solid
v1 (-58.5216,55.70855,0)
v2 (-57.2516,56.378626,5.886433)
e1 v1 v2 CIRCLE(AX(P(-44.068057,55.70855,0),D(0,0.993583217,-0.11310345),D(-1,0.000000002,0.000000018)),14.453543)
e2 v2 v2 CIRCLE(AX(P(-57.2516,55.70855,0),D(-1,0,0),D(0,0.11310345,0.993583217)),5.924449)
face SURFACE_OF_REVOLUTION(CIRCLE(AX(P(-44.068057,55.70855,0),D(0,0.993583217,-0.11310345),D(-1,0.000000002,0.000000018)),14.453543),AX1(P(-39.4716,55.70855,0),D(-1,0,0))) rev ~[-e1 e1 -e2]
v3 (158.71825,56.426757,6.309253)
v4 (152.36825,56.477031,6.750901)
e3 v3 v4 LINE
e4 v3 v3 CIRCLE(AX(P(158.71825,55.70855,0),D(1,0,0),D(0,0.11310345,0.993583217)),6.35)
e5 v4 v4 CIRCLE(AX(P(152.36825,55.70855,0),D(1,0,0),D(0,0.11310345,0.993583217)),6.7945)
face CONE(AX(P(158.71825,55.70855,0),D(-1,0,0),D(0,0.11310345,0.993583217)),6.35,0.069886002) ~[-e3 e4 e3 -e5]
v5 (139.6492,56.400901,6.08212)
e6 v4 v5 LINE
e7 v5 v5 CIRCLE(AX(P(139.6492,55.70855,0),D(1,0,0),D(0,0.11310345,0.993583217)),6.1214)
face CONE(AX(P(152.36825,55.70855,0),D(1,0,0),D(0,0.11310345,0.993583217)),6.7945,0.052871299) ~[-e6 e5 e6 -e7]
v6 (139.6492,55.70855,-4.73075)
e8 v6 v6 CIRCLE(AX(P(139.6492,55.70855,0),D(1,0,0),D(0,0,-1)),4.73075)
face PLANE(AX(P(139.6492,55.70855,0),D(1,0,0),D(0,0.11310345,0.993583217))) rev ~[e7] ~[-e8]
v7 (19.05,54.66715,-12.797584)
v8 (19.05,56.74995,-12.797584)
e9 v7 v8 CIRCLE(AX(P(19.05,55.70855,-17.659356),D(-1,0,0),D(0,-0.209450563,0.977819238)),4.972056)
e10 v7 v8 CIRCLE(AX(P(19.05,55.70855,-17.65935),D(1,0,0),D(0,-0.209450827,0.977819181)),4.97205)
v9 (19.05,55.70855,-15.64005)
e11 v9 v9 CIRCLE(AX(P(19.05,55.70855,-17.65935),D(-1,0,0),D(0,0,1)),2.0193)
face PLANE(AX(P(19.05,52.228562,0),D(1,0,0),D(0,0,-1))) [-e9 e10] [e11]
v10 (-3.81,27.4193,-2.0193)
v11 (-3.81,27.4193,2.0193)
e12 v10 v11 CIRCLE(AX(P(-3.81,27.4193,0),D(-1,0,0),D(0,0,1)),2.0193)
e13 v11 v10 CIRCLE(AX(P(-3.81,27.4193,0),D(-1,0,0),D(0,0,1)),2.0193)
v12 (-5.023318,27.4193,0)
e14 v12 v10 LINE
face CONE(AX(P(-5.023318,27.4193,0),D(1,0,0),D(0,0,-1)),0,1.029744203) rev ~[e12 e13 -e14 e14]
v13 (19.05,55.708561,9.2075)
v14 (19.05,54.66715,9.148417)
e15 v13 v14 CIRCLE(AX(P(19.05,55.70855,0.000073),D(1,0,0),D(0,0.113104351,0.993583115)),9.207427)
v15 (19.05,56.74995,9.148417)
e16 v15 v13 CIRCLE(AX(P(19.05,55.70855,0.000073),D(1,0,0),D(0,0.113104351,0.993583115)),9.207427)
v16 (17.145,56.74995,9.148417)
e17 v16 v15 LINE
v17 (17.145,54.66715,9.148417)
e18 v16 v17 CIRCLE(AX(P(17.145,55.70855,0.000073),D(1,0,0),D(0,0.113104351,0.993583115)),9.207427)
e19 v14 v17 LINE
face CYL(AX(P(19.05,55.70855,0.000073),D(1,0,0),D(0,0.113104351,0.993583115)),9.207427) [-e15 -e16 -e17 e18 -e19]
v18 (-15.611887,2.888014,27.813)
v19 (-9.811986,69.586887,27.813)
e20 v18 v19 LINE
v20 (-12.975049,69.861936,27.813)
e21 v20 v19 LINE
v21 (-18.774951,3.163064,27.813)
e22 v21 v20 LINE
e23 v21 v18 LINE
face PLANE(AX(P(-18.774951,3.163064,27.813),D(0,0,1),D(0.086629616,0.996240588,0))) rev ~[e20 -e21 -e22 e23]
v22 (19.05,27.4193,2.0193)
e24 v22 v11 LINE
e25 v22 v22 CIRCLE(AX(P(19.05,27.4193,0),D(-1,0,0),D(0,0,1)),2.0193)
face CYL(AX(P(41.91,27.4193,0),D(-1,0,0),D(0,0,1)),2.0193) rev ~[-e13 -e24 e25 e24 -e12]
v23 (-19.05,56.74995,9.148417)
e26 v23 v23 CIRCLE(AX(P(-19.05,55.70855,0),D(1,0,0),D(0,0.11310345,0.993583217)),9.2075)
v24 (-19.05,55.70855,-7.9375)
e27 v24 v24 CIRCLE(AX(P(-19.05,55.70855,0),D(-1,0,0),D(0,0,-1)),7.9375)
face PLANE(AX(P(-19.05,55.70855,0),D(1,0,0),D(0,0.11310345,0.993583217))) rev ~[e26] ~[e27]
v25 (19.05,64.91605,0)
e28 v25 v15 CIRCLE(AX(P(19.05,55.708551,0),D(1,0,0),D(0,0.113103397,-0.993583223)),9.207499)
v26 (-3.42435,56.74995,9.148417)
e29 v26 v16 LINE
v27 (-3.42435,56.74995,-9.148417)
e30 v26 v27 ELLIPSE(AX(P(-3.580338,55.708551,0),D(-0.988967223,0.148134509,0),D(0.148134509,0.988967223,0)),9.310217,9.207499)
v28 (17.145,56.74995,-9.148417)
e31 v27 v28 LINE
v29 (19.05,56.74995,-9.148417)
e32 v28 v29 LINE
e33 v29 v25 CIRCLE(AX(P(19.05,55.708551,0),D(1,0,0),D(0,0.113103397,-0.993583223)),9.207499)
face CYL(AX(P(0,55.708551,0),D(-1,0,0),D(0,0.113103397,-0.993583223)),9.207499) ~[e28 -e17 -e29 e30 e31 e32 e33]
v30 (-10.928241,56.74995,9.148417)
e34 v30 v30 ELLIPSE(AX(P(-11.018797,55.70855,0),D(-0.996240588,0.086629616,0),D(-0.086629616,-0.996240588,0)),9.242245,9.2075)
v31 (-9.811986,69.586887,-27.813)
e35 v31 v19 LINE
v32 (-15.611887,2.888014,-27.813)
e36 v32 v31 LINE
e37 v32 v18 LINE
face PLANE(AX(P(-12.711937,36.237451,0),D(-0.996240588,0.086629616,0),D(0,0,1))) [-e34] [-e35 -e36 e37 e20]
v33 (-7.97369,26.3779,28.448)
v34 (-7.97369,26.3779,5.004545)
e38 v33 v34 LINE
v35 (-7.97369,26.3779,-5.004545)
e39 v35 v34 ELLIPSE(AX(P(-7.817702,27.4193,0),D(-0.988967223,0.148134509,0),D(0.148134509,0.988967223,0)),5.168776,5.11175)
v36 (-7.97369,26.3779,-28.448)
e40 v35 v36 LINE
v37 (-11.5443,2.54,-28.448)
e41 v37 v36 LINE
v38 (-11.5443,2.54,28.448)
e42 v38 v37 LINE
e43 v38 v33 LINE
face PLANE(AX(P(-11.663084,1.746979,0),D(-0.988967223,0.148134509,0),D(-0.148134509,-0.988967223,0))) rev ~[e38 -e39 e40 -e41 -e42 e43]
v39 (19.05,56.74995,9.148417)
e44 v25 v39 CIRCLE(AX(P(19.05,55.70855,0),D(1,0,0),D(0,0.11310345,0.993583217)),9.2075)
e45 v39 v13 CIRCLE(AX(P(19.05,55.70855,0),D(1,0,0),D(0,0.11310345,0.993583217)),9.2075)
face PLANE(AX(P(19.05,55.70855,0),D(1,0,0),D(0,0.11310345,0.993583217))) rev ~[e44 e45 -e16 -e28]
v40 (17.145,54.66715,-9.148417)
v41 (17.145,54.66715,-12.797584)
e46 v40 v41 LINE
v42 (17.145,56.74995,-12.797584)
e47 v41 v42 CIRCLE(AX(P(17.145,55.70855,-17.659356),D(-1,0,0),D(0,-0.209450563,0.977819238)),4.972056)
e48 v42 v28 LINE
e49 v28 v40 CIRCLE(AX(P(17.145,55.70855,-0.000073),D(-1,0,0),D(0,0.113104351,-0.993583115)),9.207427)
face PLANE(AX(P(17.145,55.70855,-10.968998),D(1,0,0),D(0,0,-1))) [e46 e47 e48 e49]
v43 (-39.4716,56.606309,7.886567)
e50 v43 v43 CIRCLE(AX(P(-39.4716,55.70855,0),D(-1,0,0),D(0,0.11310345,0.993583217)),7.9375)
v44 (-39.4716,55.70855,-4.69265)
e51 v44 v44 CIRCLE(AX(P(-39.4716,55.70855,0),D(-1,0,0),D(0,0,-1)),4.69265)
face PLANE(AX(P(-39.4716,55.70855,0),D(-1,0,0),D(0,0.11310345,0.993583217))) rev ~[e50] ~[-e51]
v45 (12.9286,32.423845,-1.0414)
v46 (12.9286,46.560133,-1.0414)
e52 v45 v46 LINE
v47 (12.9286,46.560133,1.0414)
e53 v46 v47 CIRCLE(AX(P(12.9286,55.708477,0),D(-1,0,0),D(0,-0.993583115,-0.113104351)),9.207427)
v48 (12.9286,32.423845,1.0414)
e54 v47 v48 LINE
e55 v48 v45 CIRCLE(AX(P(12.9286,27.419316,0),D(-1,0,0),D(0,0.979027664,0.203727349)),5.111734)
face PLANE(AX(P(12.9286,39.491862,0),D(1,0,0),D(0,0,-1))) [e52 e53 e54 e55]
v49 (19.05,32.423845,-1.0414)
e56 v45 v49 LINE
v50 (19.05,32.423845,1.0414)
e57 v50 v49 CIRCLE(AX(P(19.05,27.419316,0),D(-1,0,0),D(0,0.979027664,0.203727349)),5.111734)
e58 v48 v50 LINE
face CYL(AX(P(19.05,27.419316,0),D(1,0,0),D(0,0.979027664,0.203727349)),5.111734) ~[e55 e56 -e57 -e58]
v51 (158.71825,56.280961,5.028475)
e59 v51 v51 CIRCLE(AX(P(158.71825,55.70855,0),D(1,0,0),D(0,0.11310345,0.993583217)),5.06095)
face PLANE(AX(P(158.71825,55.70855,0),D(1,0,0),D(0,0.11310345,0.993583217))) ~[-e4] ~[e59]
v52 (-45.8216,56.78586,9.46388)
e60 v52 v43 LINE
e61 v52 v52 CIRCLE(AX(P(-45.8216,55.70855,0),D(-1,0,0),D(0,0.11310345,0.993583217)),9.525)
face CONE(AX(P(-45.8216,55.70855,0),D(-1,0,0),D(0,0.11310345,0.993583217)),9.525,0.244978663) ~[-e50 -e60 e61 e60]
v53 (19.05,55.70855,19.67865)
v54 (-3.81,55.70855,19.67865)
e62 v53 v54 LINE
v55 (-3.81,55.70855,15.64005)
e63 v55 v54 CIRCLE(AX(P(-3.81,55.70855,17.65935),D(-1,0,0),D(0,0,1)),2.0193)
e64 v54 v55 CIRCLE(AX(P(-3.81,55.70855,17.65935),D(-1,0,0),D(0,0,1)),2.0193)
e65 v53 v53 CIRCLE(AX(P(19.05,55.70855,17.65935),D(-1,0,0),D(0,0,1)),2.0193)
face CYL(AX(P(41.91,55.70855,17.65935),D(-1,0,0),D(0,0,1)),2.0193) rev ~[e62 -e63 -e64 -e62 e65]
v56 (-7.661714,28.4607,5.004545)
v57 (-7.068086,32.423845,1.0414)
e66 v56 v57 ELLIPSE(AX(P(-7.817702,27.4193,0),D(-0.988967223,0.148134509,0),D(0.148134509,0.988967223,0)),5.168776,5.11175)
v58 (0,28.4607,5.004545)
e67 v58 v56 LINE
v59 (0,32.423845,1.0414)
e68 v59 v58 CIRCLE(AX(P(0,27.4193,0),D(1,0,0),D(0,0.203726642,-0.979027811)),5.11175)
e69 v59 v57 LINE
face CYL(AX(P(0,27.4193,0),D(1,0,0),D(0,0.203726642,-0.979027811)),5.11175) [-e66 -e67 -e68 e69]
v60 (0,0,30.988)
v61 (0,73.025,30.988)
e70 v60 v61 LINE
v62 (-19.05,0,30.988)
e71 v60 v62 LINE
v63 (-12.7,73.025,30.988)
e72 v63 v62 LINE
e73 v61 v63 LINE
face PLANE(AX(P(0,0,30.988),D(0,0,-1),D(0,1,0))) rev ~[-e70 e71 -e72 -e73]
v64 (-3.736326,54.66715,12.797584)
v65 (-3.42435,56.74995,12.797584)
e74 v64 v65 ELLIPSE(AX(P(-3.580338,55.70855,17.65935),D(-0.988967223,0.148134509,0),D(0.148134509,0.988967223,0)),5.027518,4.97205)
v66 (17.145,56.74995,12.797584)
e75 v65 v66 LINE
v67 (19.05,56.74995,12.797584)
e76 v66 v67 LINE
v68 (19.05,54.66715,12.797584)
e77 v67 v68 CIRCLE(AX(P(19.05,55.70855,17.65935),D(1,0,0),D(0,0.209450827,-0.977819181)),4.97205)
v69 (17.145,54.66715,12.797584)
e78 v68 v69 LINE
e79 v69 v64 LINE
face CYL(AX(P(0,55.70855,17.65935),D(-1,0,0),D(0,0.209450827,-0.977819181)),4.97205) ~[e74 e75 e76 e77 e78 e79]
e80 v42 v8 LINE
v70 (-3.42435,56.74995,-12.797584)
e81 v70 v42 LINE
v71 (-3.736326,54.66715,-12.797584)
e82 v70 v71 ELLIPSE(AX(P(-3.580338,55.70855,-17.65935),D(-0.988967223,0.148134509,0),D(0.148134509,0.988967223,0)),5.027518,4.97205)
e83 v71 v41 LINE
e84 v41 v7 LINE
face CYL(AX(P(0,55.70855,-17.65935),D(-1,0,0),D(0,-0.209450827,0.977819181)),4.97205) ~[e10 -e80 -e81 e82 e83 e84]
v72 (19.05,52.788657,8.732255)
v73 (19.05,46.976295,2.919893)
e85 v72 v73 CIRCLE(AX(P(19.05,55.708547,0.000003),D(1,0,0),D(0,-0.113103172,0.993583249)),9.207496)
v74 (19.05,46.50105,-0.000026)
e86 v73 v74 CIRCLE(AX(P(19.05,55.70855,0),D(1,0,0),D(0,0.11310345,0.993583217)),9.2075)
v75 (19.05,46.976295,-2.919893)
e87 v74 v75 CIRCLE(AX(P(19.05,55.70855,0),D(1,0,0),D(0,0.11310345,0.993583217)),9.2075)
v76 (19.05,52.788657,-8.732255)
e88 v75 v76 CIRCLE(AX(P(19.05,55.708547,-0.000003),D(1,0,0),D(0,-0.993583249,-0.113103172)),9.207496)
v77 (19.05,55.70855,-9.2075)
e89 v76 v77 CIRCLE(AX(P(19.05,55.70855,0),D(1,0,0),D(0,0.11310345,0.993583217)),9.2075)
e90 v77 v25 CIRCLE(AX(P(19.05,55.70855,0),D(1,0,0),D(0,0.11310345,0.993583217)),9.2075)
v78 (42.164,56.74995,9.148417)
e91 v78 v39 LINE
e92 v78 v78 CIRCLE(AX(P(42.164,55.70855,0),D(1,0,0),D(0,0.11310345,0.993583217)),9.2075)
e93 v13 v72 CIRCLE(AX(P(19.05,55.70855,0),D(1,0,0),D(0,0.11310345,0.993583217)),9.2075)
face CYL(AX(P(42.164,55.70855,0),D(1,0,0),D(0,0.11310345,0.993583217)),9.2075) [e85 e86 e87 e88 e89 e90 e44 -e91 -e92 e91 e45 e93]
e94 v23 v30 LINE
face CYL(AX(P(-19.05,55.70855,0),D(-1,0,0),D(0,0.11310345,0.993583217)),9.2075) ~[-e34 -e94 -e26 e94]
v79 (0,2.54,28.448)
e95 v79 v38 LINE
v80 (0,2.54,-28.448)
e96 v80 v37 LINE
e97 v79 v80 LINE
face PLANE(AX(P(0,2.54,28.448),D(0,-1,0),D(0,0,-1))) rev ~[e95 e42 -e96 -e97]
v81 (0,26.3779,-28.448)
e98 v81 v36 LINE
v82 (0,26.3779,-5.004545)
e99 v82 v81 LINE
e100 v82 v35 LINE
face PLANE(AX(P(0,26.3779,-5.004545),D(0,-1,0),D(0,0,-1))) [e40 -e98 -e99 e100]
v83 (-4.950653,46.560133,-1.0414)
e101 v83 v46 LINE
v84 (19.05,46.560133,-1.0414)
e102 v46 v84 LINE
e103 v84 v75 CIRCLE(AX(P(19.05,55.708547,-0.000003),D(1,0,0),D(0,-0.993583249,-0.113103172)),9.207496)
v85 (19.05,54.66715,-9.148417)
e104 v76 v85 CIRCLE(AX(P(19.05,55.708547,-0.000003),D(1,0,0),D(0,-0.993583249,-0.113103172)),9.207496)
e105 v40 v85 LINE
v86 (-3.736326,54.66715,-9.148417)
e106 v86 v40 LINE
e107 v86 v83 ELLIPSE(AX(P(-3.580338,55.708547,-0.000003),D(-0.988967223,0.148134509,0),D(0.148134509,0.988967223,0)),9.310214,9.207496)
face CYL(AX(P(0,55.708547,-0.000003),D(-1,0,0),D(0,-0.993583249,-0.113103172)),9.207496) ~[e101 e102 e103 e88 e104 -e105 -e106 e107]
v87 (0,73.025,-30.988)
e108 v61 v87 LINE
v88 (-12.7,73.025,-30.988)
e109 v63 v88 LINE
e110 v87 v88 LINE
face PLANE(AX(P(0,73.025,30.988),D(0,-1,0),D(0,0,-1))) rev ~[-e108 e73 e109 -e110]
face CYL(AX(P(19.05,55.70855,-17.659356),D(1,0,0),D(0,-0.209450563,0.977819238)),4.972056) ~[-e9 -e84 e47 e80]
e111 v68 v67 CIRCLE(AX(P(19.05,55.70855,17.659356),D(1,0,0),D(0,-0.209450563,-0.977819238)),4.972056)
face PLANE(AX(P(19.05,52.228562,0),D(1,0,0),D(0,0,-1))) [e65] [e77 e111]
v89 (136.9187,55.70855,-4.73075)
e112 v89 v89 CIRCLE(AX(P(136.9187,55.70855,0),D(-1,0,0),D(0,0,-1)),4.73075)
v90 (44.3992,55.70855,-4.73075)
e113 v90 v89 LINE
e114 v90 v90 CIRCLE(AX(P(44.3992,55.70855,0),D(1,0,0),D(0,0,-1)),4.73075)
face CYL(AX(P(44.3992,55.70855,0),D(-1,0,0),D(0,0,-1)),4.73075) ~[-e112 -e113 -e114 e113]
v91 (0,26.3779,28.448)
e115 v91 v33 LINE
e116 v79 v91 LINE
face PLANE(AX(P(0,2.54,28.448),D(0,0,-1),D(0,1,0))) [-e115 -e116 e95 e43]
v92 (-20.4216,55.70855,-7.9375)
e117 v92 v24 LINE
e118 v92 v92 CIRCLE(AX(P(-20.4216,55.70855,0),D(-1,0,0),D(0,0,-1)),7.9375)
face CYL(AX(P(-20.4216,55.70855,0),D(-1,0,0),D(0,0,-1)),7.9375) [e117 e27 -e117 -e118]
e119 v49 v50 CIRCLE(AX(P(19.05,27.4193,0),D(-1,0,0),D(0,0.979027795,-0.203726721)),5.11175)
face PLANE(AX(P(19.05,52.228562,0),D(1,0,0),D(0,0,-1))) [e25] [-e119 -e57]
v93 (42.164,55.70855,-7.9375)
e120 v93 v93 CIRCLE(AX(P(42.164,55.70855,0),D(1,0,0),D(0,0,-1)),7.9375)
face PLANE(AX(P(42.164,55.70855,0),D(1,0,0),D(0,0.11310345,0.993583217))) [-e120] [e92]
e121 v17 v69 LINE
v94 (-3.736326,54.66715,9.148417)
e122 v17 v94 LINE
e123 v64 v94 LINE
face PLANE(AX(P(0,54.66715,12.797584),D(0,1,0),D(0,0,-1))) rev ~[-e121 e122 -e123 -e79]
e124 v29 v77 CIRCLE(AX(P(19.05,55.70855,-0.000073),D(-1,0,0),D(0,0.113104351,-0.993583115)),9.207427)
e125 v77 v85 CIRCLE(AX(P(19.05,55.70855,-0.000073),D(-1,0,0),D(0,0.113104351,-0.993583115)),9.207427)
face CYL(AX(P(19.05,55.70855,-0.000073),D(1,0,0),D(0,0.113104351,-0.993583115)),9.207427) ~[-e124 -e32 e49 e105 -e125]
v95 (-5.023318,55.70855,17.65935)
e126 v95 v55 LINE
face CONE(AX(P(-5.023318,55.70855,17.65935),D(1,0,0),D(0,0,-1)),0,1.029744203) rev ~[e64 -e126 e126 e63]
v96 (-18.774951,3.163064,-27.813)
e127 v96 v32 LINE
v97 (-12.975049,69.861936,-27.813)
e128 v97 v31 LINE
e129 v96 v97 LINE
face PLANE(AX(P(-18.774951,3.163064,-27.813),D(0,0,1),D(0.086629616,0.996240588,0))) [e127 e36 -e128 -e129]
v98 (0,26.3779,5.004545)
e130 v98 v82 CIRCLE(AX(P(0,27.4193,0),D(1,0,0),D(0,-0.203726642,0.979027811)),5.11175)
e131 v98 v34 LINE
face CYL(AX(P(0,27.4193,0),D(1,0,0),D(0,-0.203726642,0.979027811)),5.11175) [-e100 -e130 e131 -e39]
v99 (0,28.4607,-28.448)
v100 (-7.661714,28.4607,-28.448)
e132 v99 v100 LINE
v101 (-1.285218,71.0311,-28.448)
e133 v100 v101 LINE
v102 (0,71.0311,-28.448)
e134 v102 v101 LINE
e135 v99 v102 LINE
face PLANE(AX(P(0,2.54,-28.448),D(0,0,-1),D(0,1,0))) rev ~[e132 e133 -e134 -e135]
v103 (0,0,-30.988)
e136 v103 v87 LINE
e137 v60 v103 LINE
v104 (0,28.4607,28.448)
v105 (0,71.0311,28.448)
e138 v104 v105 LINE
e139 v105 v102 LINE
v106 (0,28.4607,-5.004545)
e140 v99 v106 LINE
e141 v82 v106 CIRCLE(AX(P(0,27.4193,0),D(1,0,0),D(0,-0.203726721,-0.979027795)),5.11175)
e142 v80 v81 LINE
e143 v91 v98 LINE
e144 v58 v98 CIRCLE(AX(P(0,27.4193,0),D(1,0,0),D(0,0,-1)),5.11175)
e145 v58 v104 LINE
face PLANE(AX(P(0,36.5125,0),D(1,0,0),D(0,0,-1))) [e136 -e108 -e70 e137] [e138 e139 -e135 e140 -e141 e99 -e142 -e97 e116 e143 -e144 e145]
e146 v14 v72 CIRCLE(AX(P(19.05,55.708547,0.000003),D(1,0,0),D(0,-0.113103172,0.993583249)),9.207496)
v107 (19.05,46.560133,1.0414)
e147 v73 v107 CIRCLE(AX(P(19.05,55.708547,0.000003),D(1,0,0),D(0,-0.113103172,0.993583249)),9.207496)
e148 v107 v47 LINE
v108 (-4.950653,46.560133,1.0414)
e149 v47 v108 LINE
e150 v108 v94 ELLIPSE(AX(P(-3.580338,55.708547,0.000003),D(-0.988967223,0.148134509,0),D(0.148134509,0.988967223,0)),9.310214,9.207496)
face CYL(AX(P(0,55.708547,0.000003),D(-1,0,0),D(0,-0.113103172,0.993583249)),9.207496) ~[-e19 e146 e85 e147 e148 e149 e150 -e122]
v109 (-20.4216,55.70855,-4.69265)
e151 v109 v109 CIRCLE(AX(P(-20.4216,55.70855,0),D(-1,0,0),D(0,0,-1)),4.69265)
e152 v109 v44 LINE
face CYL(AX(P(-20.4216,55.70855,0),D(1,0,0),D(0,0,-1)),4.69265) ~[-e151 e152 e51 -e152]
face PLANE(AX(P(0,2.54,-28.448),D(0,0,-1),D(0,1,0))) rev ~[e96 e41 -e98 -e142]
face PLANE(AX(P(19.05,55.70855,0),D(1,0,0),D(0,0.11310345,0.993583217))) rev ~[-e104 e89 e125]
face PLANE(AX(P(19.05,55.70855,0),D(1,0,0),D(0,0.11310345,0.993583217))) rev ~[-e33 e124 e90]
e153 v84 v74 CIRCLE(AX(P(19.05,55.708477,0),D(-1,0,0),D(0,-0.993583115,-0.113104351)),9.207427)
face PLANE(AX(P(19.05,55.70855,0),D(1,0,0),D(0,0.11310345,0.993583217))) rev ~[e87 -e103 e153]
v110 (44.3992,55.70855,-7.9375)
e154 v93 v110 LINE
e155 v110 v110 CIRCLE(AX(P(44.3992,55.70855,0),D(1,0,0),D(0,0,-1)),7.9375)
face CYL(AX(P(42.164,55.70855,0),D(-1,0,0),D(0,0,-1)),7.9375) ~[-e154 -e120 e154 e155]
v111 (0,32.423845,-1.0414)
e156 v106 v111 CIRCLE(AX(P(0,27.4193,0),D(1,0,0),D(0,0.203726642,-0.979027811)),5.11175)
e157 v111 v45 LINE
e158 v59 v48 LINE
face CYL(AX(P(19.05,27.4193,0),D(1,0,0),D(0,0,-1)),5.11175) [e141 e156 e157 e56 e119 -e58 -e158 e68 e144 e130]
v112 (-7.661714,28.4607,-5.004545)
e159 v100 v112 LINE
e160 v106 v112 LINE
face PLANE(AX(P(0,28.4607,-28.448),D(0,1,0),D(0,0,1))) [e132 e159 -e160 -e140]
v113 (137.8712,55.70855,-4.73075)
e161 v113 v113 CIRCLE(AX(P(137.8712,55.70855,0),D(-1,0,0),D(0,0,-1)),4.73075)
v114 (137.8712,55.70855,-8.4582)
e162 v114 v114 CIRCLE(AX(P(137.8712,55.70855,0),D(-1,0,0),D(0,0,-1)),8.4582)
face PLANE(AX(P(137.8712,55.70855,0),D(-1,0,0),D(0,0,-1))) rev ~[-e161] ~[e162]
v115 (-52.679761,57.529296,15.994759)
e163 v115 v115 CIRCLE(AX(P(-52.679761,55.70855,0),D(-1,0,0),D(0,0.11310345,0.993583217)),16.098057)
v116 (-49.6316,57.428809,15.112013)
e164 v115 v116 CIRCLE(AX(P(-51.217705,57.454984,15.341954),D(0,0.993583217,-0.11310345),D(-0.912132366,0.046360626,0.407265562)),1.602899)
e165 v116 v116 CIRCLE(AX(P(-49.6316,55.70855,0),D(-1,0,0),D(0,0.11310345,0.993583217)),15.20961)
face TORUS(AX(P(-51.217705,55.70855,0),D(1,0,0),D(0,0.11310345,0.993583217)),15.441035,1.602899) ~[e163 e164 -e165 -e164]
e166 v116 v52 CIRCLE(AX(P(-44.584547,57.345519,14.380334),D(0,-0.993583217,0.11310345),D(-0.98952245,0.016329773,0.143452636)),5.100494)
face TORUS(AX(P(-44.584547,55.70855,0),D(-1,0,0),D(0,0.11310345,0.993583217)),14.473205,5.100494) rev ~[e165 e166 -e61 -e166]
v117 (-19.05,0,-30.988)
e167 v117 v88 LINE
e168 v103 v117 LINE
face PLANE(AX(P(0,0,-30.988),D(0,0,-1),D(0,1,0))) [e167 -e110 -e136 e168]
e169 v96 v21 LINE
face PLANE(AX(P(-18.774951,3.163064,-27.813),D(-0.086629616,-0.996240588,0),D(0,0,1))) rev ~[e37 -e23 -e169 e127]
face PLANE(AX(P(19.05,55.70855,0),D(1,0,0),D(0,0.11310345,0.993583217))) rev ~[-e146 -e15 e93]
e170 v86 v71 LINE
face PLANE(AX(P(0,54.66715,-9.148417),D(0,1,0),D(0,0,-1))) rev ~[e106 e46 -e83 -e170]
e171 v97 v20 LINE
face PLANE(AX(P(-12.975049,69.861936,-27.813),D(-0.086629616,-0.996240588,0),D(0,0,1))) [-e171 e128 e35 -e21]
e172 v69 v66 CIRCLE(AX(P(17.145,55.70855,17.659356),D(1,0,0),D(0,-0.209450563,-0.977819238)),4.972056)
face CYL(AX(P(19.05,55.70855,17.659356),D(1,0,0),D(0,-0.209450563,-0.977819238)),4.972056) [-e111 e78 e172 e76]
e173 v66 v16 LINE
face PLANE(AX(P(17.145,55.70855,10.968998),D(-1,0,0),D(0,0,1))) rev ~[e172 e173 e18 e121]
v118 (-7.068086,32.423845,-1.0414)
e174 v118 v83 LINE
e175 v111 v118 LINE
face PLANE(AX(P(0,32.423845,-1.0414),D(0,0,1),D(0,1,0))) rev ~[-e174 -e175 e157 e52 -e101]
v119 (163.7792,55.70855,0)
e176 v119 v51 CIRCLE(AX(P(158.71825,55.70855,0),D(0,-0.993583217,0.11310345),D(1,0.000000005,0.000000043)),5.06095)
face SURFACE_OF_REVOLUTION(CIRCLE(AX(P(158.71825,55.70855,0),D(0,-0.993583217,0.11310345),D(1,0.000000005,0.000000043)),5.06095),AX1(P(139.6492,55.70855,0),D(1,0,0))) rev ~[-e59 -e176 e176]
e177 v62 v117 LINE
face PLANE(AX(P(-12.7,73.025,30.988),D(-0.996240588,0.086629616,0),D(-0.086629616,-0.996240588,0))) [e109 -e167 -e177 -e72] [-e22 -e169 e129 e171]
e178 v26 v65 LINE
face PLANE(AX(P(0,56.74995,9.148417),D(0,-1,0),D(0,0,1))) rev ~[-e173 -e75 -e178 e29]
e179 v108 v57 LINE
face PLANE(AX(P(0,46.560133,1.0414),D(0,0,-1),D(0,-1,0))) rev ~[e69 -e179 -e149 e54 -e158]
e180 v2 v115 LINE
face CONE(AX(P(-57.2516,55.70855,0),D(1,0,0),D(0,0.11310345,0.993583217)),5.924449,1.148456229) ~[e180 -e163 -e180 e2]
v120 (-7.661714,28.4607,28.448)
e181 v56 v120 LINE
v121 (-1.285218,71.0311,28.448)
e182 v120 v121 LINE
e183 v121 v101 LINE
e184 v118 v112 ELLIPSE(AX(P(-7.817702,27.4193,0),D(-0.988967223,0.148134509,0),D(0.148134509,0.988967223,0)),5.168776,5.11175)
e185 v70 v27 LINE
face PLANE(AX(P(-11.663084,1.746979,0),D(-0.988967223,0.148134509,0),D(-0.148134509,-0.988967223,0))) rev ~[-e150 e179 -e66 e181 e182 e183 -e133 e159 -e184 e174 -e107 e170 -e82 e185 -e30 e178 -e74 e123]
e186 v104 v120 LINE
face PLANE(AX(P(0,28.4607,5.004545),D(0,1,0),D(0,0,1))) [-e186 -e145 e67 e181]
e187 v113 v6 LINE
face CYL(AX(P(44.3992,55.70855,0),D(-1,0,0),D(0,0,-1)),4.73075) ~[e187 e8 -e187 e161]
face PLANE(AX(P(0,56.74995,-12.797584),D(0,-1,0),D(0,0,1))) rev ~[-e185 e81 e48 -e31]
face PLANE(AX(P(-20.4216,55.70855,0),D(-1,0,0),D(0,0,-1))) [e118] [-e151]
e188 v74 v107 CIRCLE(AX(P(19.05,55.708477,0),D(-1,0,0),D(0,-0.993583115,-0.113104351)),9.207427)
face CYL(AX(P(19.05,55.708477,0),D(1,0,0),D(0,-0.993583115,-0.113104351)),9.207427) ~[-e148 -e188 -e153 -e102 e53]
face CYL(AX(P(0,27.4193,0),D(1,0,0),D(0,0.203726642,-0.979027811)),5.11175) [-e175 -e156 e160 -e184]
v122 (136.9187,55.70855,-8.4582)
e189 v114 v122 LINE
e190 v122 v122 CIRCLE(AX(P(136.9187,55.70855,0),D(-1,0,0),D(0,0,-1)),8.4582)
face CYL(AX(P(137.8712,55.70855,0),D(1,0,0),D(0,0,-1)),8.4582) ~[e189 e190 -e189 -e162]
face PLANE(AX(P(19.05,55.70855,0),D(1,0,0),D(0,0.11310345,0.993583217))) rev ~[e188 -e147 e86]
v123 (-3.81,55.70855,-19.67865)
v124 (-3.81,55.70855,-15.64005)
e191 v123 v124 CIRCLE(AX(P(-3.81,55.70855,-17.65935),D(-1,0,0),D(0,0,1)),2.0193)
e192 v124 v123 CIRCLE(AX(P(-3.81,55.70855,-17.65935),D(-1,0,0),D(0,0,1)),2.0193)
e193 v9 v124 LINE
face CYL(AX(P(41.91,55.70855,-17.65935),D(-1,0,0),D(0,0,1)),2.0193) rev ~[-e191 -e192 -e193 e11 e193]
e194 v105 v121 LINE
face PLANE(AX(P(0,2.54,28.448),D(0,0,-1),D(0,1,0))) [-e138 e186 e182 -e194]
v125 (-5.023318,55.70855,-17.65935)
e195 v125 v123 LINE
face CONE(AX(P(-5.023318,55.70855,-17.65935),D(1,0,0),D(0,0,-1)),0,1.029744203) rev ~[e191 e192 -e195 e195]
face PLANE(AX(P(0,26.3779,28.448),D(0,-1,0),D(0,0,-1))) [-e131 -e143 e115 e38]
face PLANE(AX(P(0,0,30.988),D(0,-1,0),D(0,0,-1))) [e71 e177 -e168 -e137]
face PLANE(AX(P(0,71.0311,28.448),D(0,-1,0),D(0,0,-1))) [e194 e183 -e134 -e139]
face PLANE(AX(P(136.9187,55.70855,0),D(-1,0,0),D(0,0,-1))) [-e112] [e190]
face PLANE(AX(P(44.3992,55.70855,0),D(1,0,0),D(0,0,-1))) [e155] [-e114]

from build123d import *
from build123d.topology import SkipClean

# Parameters (mm, degrees)
SKETCH1_W                       = 61.976
SKETCH1_H                       = 73.025
BOSS_EXTRUDE1_DEPTH             = 19.05
CUT_EXTRUDE1_DEPTH              = 98.655403
SKETCH4_W                       = 55.626
SKETCH4_H                       = 66.950567
CUT_EXTRUDE3_DEPTH              = 3.175
CUT_EXTRUDE5_REACH              = 83.583
SKETCH3_W                       = 56.896
SKETCH3_H                       = 68.4911
BOSS_EXTRUDE2_REACH             = 83.583
BOSS_EXTRUDE4_START             = 19.05
SKETCH12_R                      = 5.11175
BOSS_EXTRUDE4_DEPTH             = 19.05
BOSS_EXTRUDE3_REACH             = 83.583
BOSS_EXTRUDE3_DIRECTION_2_DEPTH = 19.05
CUT_EXTRUDE6_DEPTH              = 6.1214
CUT_EXTRUDE7_DEPTH              = 1.905
BOSS_EXTRUDE5_START             = 23.114
SKETCH15_R                      = 9.2075
BOSS_EXTRUDE5_DEPTH             = 23.114
SKETCH16_R                      = 7.9375
BOSS_EXTRUDE6_DEPTH             = 2.2352
F_10_32_TAPPED_HOLE1_D          = 4.0386
F_10_32_TAPPED_HOLE1_DEPTH      = 22.86
F_10_32_TAPPED_HOLE1_TIP        = 1.213318
SKETCH17_R                      = 4.73075
BOSS_EXTRUDE7_DEPTH             = 95.25
SKETCH19_R                      = 8.4582
BOSS_EXTRUDE8_DEPTH             = 0.9525
BOSS_EXTRUDE9_REACH             = 201.297
SKETCH24_R                      = 9.2075
BOSS_EXTRUDE10_START            = 1.3716
SKETCH25_R                      = 7.9375
BOSS_EXTRUDE10_DEPTH            = 1.3716
SKETCH26_R                      = 4.69265
BOSS_EXTRUDE11_DEPTH            = 19.05


with BuildPart() as part:
    # Sketch1 → Boss-Extrude1 (new body)
    with BuildSketch(Plane(origin=(0, 0, 0), x_dir=(0, 0, -1), z_dir=(1, 0, 0))):
        with Locations((0, 36.5125)):
            Rectangle(SKETCH1_W, SKETCH1_H)
    extrude(amount=-BOSS_EXTRUDE1_DEPTH)

    # Sketch2 → Cut-Extrude1 (cut, through all)
    with BuildSketch(Plane.XY.offset(30.988)):
        Polygon((-12.7, 73.025), (-19.05, 0), (-19.05, 73.025), align=None)
    extrude(amount=-CUT_EXTRUDE1_DEPTH, mode=Mode.SUBTRACT)

    # Sketch4 → Cut-Extrude3 (cut)
    with BuildSketch(Plane(origin=(-18.907036, 1.64409, 0), x_dir=(0, 0, 1), z_dir=(-0.9962405881956831, 0.08662961636484201, 0))):
        with Locations((0, 34.999989)):
            Rectangle(SKETCH4_W, SKETCH4_H)
    extrude(amount=-CUT_EXTRUDE3_DEPTH, mode=Mode.SUBTRACT)

    # Cut-Extrude5: up to this plane
    cut_extrude5_end = Plane(origin=(-11.663084, 1.746979, 0), z_dir=(-0.9889672225345182, 0.14813450898545183, 0))
    # Sketch3 → Cut-Extrude5 (cut, up to the surface)
    with BuildSketch(Plane(origin=(0, 0, 0), x_dir=(0, 0, -1), z_dir=(1, 0, 0)), mode=Mode.PRIVATE) as cut_extrude5_sk1:
        with Locations((0, 36.78555)):
            Rectangle(SKETCH3_W, SKETCH3_H)
    cut_extrude5_tool1 = split(extrude(cut_extrude5_sk1.sketch, amount=-CUT_EXTRUDE5_REACH, mode=Mode.PRIVATE), bisect_by=cut_extrude5_end, keep=Keep.BOTH, mode=Mode.PRIVATE)
    add(cut_extrude5_tool1.solids().sort_by_distance((0, 36.78555, 0))[0], mode=Mode.SUBTRACT)

    # Boss-Extrude2: up to this plane
    boss_extrude2_end = Plane(origin=(-11.663084, 1.746979, 0), z_dir=(-0.9889672225345182, 0.14813450898545183, 0))
    # Sketch9 → Boss-Extrude2 (add, up to the surface)
    with BuildSketch(Plane(origin=(0, 0, 0), x_dir=(0, 0, -1), z_dir=(1, 0, 0)), mode=Mode.PRIVATE) as boss_extrude2_sk1:
        with BuildLine():
            Line((-5.004545, 28.4607), (-28.448, 28.4607))
            Line((-28.448, 28.4607), (-28.448, 26.3779))
            Line((-28.448, 26.3779), (-5.004545, 26.3779))
            ThreePointArc((-5.004545, 26.3779), (0, 22.30755), (5.004545, 26.3779))
            Line((5.004545, 26.3779), (28.448, 26.3779))
            Line((28.448, 26.3779), (28.448, 28.4607))
            Line((28.448, 28.4607), (5.004545, 28.4607))
            ThreePointArc((5.004545, 28.4607), (0, 32.53105), (-5.004545, 28.4607))
        make_face()
    boss_extrude2_tool1 = split(extrude(boss_extrude2_sk1.sketch, amount=-BOSS_EXTRUDE2_REACH, mode=Mode.PRIVATE), bisect_by=boss_extrude2_end, keep=Keep.BOTH, mode=Mode.PRIVATE)
    add(boss_extrude2_tool1.solids().sort_by_distance((0, 27.4193, 0))[0])

    # Sketch12 → Boss-Extrude4 (add)
    with BuildSketch(Plane(origin=(0, 0, 0), x_dir=(0, 0, -1), z_dir=(1, 0, 0)).offset(BOSS_EXTRUDE4_START)):
        with Locations((0, 27.4193)):
            Circle(SKETCH12_R)
    extrude(amount=-BOSS_EXTRUDE4_DEPTH)

    # Boss-Extrude3: up to this plane
    boss_extrude3_end = Plane(origin=(-11.663084, 1.746979, 0), z_dir=(-0.9889672225345182, 0.14813450898545183, 0))
    # Sketch11 → Boss-Extrude3 (add, up to the surface)
    with BuildSketch(Plane(origin=(0, 0, 0), x_dir=(0, 0, -1), z_dir=(1, 0, 0)), mode=Mode.PRIVATE) as boss_extrude3_sk1:
        with BuildLine():
            Line((-1.0414, 46.560133), (-1.0414, 32.423845))
            ThreePointArc((-1.0414, 32.423845), (0, 32.53105), (1.0414, 32.423845))
            Line((1.0414, 32.423845), (1.0414, 46.560133))
            ThreePointArc((1.0414, 46.560133), (6.510686, 49.197864), (9.148417, 54.66715))
            Line((9.148417, 54.66715), (12.797584, 54.66715))
            ThreePointArc((12.797584, 54.66715), (22.6314, 55.70855), (12.797584, 56.74995))
            Line((12.797584, 56.74995), (9.148417, 56.74995))
            ThreePointArc((9.148417, 56.74995), (0, 64.91605), (-9.148417, 56.74995))
            Line((-9.148417, 56.74995), (-12.797584, 56.74995))
            ThreePointArc((-12.797584, 56.74995), (-22.6314, 55.70855), (-12.797584, 54.66715))
            Line((-12.797584, 54.66715), (-9.148417, 54.66715))
            ThreePointArc((-9.148417, 54.66715), (-6.510686, 49.197864), (-1.0414, 46.560133))
        make_face()
    boss_extrude3_tool1 = split(extrude(boss_extrude3_sk1.sketch, amount=-BOSS_EXTRUDE3_REACH, mode=Mode.PRIVATE), bisect_by=boss_extrude3_end, keep=Keep.BOTH, mode=Mode.PRIVATE)
    add(boss_extrude3_tool1.solids().sort_by_distance((0, 54.692148, 0))[0])

    # Sketch11 → Boss-Extrude3 direction 2 (add)
    with BuildSketch(Plane(origin=(0, 0, 0), x_dir=(0, 0, -1), z_dir=(1, 0, 0))):
        with BuildLine():
            Line((-1.0414, 46.560133), (-1.0414, 32.423845))
            ThreePointArc((-1.0414, 32.423845), (0, 32.53105), (1.0414, 32.423845))
            Line((1.0414, 32.423845), (1.0414, 46.560133))
            ThreePointArc((1.0414, 46.560133), (6.510686, 49.197864), (9.148417, 54.66715))
            Line((9.148417, 54.66715), (12.797584, 54.66715))
            ThreePointArc((12.797584, 54.66715), (22.6314, 55.70855), (12.797584, 56.74995))
            Line((12.797584, 56.74995), (9.148417, 56.74995))
            ThreePointArc((9.148417, 56.74995), (0, 64.91605), (-9.148417, 56.74995))
            Line((-9.148417, 56.74995), (-12.797584, 56.74995))
            ThreePointArc((-12.797584, 56.74995), (-22.6314, 55.70855), (-12.797584, 54.66715))
            Line((-12.797584, 54.66715), (-9.148417, 54.66715))
            ThreePointArc((-9.148417, 54.66715), (-6.510686, 49.197864), (-1.0414, 46.560133))
        make_face()
    extrude(amount=BOSS_EXTRUDE3_DIRECTION_2_DEPTH)

    # Sketch13 → Cut-Extrude6 (cut)
    with BuildSketch(Plane(origin=(19.05, 0, 0), x_dir=(0, 0, -1), z_dir=(1, 0, 0))):
        with BuildLine():
            Line((-1.0414, 46.560133), (-1.0414, 32.423845))
            ThreePointArc((-1.0414, 32.423845), (0, 32.53105), (1.0414, 32.423845))
            Line((1.0414, 32.423845), (1.0414, 46.560133))
            ThreePointArc((1.0414, 46.560133), (0, 46.50105), (-1.0414, 46.560133))
        make_face()
    extrude(amount=-CUT_EXTRUDE6_DEPTH, mode=Mode.SUBTRACT)

    # Sketch14 → Cut-Extrude7 (cut)
    with SkipClean():  # the faces are left unmerged after this step: merging them gives an invalid solid
        with BuildSketch(Plane(origin=(19.05, 0, 0), x_dir=(0, 0, -1), z_dir=(1, 0, 0))):
            with BuildLine():
                Line((-9.148417, 54.66715), (-12.797584, 54.66715))
                ThreePointArc((-12.797584, 54.66715), (-12.6873, 55.70855), (-12.797584, 56.74995))
                Line((-12.797584, 56.74995), (-9.148417, 56.74995))
                ThreePointArc((-9.148417, 56.74995), (-9.2075, 55.70855), (-9.148417, 54.66715))
            make_face()
            with BuildLine():
                Line((9.148417, 54.66715), (12.797584, 54.66715))
                ThreePointArc((12.797584, 54.66715), (12.6873, 55.70855), (12.797584, 56.74995))
                Line((12.797584, 56.74995), (9.148417, 56.74995))
                ThreePointArc((9.148417, 56.74995), (9.2075, 55.70855), (9.148417, 54.66715))
            make_face()
        extrude(amount=-CUT_EXTRUDE7_DEPTH, mode=Mode.SUBTRACT)

    # Sketch15 → Boss-Extrude5 (add)
    with SkipClean():  # the faces are left unmerged after this step: merging them gives an invalid solid
        with BuildSketch(Plane(origin=(19.05, 0, 0), x_dir=(0, 0, -1), z_dir=(1, 0, 0)).offset(BOSS_EXTRUDE5_START)):
            with Locations(Location((0, 55.70855, 0), (0, 0, 173.505753))):
                Circle(SKETCH15_R)
        extrude(amount=-BOSS_EXTRUDE5_DEPTH)

    # Sketch16 → Boss-Extrude6 (add)
    with SkipClean():  # the faces are left unmerged after this step: merging them gives an invalid solid
        with BuildSketch(Plane(origin=(42.164, 0, 0), x_dir=(0, 0, -1), z_dir=(1, 0, 0))):
            with Locations((0, 55.70855)):
                Circle(SKETCH16_R)
        extrude(amount=BOSS_EXTRUDE6_DEPTH)

    # #10-32 Tapped Hole1
    with Locations(Plane(origin=(19.05, 0, 0), x_dir=(0, 0, -1), z_dir=(1, 0, 0))):
        with Locations((-17.65935, 55.70855), (17.65935, 55.70855), (0, 27.4193)):
            Hole(F_10_32_TAPPED_HOLE1_D / 2, depth=F_10_32_TAPPED_HOLE1_DEPTH)
            with Locations((0, 0, -(F_10_32_TAPPED_HOLE1_DEPTH + F_10_32_TAPPED_HOLE1_TIP / 2))):  # 118° drill point
                Cone(0, F_10_32_TAPPED_HOLE1_D / 2, F_10_32_TAPPED_HOLE1_TIP, mode=Mode.SUBTRACT)

    # Sketch17 → Boss-Extrude7 (add)
    with SkipClean():  # the faces are left unmerged after this step: merging them gives an invalid solid
        with BuildSketch(Plane(origin=(44.3992, 0, 0), x_dir=(0, 0, -1), z_dir=(1, 0, 0))):
            with Locations((0, 55.70855)):
                Circle(SKETCH17_R)
        extrude(amount=BOSS_EXTRUDE7_DEPTH)

    # Sketch18 → Revolve1 (revolve)
    with SkipClean():  # the faces are left unmerged after this step: merging them gives an invalid solid
        with BuildSketch(Plane.XY, mode=Mode.PRIVATE) as revolve1_sk:
            with BuildLine():
                Line((139.6492, 55.70855), (163.7792, 55.70855))
                ThreePointArc((163.7792, 55.70855), (162.296882, 59.287182), (158.71825, 60.7695))
                Line((158.71825, 60.7695), (158.71825, 62.05855))
                Line((158.71825, 62.05855), (152.36825, 62.50305))
                Line((152.36825, 62.50305), (139.6492, 61.82995))
                Line((139.6492, 61.82995), (139.6492, 55.70855))
            make_face()
        revolve(revolve1_sk.sketch.rotate(Axis((139.6492, 55.70855, 0), (1, 0, 0)), 83.505753), axis=Axis((139.6492, 55.70855, 0), (1, 0, 0)))

    # Sketch19 → Boss-Extrude8 (add)
    with SkipClean():  # the faces are left unmerged after this step: merging them gives an invalid solid
        with BuildSketch(Plane.ZY.offset(-137.8712)):
            with Locations(Location((0, 55.70855, 0), (0, 0, 180))):
                Circle(SKETCH19_R)
        extrude(amount=BOSS_EXTRUDE8_DEPTH)

    # Boss-Extrude9: up to this plane
    with SkipClean():  # the faces are left unmerged after this step: merging them gives an invalid solid
        boss_extrude9_end = Plane(origin=(-15.743972, 1.369041, 0), z_dir=(-0.996240588195683, 0.086629616364842, 0))
        # Sketch24 → Boss-Extrude9 (add, up to the surface)
        with BuildSketch(Plane(origin=(-19.05, 0, 0), x_dir=(0, 0, -1), z_dir=(1, 0, 0)), mode=Mode.PRIVATE) as boss_extrude9_sk1:
            with Locations(Location((0, 55.70855, 0), (0, 0, 173.505753))):
                Circle(SKETCH24_R)
        boss_extrude9_tool1 = split(extrude(boss_extrude9_sk1.sketch, amount=BOSS_EXTRUDE9_REACH, mode=Mode.PRIVATE), bisect_by=boss_extrude9_end, keep=Keep.BOTH, mode=Mode.PRIVATE)
        add(boss_extrude9_tool1.solids().sort_by_distance((-19.05, 55.70855, 0))[0])

    # Sketch25 → Boss-Extrude10 (add)
    with SkipClean():  # the faces are left unmerged after this step: merging them gives an invalid solid
        with BuildSketch(Plane.ZY.offset(19.05).offset(BOSS_EXTRUDE10_START)):
            with Locations(Location((0, 55.70855, 0), (0, 0, 180))):
                Circle(SKETCH25_R)
        extrude(amount=-BOSS_EXTRUDE10_DEPTH)

    # Sketch26 → Boss-Extrude11 (add)
    with SkipClean():  # the faces are left unmerged after this step: merging them gives an invalid solid
        with BuildSketch(Plane.ZY.offset(20.4216)):
            with Locations(Location((0, 55.70855, 0), (0, 0, 180))):
                Circle(SKETCH26_R)
        extrude(amount=BOSS_EXTRUDE11_DEPTH)

    # Sketch27 → Revolve2 (revolve)
    with SkipClean():  # the faces are left unmerged after this step: merging them gives an invalid solid
        with BuildSketch(Plane.XY, mode=Mode.PRIVATE) as revolve2_sk:
            with BuildLine():
                Line((-39.4716, 55.70855), (-58.5216, 55.70855))
                ThreePointArc((-58.5216, 55.70855), (-58.200534, 58.738071), (-57.2516, 61.632999))
                Line((-57.2516, 61.632999), (-52.679761, 71.806607))
                ThreePointArc((-52.679761, 71.806607), (-50.769172, 72.68845), (-49.6316, 70.91816))
                ThreePointArc((-49.6316, 70.91816), (-48.821432, 67.342065), (-45.8216, 65.23355))
                Line((-45.8216, 65.23355), (-39.4716, 63.64605))
                Line((-39.4716, 63.64605), (-39.4716, 55.70855))
            make_face()
        revolve(revolve2_sk.sketch.rotate(Axis((-39.4716, 55.70855, 0), (-1, 0, 0)), 276.494247), axis=Axis((-39.4716, 55.70855, 0), (-1, 0, 0)))


solid = part.part
